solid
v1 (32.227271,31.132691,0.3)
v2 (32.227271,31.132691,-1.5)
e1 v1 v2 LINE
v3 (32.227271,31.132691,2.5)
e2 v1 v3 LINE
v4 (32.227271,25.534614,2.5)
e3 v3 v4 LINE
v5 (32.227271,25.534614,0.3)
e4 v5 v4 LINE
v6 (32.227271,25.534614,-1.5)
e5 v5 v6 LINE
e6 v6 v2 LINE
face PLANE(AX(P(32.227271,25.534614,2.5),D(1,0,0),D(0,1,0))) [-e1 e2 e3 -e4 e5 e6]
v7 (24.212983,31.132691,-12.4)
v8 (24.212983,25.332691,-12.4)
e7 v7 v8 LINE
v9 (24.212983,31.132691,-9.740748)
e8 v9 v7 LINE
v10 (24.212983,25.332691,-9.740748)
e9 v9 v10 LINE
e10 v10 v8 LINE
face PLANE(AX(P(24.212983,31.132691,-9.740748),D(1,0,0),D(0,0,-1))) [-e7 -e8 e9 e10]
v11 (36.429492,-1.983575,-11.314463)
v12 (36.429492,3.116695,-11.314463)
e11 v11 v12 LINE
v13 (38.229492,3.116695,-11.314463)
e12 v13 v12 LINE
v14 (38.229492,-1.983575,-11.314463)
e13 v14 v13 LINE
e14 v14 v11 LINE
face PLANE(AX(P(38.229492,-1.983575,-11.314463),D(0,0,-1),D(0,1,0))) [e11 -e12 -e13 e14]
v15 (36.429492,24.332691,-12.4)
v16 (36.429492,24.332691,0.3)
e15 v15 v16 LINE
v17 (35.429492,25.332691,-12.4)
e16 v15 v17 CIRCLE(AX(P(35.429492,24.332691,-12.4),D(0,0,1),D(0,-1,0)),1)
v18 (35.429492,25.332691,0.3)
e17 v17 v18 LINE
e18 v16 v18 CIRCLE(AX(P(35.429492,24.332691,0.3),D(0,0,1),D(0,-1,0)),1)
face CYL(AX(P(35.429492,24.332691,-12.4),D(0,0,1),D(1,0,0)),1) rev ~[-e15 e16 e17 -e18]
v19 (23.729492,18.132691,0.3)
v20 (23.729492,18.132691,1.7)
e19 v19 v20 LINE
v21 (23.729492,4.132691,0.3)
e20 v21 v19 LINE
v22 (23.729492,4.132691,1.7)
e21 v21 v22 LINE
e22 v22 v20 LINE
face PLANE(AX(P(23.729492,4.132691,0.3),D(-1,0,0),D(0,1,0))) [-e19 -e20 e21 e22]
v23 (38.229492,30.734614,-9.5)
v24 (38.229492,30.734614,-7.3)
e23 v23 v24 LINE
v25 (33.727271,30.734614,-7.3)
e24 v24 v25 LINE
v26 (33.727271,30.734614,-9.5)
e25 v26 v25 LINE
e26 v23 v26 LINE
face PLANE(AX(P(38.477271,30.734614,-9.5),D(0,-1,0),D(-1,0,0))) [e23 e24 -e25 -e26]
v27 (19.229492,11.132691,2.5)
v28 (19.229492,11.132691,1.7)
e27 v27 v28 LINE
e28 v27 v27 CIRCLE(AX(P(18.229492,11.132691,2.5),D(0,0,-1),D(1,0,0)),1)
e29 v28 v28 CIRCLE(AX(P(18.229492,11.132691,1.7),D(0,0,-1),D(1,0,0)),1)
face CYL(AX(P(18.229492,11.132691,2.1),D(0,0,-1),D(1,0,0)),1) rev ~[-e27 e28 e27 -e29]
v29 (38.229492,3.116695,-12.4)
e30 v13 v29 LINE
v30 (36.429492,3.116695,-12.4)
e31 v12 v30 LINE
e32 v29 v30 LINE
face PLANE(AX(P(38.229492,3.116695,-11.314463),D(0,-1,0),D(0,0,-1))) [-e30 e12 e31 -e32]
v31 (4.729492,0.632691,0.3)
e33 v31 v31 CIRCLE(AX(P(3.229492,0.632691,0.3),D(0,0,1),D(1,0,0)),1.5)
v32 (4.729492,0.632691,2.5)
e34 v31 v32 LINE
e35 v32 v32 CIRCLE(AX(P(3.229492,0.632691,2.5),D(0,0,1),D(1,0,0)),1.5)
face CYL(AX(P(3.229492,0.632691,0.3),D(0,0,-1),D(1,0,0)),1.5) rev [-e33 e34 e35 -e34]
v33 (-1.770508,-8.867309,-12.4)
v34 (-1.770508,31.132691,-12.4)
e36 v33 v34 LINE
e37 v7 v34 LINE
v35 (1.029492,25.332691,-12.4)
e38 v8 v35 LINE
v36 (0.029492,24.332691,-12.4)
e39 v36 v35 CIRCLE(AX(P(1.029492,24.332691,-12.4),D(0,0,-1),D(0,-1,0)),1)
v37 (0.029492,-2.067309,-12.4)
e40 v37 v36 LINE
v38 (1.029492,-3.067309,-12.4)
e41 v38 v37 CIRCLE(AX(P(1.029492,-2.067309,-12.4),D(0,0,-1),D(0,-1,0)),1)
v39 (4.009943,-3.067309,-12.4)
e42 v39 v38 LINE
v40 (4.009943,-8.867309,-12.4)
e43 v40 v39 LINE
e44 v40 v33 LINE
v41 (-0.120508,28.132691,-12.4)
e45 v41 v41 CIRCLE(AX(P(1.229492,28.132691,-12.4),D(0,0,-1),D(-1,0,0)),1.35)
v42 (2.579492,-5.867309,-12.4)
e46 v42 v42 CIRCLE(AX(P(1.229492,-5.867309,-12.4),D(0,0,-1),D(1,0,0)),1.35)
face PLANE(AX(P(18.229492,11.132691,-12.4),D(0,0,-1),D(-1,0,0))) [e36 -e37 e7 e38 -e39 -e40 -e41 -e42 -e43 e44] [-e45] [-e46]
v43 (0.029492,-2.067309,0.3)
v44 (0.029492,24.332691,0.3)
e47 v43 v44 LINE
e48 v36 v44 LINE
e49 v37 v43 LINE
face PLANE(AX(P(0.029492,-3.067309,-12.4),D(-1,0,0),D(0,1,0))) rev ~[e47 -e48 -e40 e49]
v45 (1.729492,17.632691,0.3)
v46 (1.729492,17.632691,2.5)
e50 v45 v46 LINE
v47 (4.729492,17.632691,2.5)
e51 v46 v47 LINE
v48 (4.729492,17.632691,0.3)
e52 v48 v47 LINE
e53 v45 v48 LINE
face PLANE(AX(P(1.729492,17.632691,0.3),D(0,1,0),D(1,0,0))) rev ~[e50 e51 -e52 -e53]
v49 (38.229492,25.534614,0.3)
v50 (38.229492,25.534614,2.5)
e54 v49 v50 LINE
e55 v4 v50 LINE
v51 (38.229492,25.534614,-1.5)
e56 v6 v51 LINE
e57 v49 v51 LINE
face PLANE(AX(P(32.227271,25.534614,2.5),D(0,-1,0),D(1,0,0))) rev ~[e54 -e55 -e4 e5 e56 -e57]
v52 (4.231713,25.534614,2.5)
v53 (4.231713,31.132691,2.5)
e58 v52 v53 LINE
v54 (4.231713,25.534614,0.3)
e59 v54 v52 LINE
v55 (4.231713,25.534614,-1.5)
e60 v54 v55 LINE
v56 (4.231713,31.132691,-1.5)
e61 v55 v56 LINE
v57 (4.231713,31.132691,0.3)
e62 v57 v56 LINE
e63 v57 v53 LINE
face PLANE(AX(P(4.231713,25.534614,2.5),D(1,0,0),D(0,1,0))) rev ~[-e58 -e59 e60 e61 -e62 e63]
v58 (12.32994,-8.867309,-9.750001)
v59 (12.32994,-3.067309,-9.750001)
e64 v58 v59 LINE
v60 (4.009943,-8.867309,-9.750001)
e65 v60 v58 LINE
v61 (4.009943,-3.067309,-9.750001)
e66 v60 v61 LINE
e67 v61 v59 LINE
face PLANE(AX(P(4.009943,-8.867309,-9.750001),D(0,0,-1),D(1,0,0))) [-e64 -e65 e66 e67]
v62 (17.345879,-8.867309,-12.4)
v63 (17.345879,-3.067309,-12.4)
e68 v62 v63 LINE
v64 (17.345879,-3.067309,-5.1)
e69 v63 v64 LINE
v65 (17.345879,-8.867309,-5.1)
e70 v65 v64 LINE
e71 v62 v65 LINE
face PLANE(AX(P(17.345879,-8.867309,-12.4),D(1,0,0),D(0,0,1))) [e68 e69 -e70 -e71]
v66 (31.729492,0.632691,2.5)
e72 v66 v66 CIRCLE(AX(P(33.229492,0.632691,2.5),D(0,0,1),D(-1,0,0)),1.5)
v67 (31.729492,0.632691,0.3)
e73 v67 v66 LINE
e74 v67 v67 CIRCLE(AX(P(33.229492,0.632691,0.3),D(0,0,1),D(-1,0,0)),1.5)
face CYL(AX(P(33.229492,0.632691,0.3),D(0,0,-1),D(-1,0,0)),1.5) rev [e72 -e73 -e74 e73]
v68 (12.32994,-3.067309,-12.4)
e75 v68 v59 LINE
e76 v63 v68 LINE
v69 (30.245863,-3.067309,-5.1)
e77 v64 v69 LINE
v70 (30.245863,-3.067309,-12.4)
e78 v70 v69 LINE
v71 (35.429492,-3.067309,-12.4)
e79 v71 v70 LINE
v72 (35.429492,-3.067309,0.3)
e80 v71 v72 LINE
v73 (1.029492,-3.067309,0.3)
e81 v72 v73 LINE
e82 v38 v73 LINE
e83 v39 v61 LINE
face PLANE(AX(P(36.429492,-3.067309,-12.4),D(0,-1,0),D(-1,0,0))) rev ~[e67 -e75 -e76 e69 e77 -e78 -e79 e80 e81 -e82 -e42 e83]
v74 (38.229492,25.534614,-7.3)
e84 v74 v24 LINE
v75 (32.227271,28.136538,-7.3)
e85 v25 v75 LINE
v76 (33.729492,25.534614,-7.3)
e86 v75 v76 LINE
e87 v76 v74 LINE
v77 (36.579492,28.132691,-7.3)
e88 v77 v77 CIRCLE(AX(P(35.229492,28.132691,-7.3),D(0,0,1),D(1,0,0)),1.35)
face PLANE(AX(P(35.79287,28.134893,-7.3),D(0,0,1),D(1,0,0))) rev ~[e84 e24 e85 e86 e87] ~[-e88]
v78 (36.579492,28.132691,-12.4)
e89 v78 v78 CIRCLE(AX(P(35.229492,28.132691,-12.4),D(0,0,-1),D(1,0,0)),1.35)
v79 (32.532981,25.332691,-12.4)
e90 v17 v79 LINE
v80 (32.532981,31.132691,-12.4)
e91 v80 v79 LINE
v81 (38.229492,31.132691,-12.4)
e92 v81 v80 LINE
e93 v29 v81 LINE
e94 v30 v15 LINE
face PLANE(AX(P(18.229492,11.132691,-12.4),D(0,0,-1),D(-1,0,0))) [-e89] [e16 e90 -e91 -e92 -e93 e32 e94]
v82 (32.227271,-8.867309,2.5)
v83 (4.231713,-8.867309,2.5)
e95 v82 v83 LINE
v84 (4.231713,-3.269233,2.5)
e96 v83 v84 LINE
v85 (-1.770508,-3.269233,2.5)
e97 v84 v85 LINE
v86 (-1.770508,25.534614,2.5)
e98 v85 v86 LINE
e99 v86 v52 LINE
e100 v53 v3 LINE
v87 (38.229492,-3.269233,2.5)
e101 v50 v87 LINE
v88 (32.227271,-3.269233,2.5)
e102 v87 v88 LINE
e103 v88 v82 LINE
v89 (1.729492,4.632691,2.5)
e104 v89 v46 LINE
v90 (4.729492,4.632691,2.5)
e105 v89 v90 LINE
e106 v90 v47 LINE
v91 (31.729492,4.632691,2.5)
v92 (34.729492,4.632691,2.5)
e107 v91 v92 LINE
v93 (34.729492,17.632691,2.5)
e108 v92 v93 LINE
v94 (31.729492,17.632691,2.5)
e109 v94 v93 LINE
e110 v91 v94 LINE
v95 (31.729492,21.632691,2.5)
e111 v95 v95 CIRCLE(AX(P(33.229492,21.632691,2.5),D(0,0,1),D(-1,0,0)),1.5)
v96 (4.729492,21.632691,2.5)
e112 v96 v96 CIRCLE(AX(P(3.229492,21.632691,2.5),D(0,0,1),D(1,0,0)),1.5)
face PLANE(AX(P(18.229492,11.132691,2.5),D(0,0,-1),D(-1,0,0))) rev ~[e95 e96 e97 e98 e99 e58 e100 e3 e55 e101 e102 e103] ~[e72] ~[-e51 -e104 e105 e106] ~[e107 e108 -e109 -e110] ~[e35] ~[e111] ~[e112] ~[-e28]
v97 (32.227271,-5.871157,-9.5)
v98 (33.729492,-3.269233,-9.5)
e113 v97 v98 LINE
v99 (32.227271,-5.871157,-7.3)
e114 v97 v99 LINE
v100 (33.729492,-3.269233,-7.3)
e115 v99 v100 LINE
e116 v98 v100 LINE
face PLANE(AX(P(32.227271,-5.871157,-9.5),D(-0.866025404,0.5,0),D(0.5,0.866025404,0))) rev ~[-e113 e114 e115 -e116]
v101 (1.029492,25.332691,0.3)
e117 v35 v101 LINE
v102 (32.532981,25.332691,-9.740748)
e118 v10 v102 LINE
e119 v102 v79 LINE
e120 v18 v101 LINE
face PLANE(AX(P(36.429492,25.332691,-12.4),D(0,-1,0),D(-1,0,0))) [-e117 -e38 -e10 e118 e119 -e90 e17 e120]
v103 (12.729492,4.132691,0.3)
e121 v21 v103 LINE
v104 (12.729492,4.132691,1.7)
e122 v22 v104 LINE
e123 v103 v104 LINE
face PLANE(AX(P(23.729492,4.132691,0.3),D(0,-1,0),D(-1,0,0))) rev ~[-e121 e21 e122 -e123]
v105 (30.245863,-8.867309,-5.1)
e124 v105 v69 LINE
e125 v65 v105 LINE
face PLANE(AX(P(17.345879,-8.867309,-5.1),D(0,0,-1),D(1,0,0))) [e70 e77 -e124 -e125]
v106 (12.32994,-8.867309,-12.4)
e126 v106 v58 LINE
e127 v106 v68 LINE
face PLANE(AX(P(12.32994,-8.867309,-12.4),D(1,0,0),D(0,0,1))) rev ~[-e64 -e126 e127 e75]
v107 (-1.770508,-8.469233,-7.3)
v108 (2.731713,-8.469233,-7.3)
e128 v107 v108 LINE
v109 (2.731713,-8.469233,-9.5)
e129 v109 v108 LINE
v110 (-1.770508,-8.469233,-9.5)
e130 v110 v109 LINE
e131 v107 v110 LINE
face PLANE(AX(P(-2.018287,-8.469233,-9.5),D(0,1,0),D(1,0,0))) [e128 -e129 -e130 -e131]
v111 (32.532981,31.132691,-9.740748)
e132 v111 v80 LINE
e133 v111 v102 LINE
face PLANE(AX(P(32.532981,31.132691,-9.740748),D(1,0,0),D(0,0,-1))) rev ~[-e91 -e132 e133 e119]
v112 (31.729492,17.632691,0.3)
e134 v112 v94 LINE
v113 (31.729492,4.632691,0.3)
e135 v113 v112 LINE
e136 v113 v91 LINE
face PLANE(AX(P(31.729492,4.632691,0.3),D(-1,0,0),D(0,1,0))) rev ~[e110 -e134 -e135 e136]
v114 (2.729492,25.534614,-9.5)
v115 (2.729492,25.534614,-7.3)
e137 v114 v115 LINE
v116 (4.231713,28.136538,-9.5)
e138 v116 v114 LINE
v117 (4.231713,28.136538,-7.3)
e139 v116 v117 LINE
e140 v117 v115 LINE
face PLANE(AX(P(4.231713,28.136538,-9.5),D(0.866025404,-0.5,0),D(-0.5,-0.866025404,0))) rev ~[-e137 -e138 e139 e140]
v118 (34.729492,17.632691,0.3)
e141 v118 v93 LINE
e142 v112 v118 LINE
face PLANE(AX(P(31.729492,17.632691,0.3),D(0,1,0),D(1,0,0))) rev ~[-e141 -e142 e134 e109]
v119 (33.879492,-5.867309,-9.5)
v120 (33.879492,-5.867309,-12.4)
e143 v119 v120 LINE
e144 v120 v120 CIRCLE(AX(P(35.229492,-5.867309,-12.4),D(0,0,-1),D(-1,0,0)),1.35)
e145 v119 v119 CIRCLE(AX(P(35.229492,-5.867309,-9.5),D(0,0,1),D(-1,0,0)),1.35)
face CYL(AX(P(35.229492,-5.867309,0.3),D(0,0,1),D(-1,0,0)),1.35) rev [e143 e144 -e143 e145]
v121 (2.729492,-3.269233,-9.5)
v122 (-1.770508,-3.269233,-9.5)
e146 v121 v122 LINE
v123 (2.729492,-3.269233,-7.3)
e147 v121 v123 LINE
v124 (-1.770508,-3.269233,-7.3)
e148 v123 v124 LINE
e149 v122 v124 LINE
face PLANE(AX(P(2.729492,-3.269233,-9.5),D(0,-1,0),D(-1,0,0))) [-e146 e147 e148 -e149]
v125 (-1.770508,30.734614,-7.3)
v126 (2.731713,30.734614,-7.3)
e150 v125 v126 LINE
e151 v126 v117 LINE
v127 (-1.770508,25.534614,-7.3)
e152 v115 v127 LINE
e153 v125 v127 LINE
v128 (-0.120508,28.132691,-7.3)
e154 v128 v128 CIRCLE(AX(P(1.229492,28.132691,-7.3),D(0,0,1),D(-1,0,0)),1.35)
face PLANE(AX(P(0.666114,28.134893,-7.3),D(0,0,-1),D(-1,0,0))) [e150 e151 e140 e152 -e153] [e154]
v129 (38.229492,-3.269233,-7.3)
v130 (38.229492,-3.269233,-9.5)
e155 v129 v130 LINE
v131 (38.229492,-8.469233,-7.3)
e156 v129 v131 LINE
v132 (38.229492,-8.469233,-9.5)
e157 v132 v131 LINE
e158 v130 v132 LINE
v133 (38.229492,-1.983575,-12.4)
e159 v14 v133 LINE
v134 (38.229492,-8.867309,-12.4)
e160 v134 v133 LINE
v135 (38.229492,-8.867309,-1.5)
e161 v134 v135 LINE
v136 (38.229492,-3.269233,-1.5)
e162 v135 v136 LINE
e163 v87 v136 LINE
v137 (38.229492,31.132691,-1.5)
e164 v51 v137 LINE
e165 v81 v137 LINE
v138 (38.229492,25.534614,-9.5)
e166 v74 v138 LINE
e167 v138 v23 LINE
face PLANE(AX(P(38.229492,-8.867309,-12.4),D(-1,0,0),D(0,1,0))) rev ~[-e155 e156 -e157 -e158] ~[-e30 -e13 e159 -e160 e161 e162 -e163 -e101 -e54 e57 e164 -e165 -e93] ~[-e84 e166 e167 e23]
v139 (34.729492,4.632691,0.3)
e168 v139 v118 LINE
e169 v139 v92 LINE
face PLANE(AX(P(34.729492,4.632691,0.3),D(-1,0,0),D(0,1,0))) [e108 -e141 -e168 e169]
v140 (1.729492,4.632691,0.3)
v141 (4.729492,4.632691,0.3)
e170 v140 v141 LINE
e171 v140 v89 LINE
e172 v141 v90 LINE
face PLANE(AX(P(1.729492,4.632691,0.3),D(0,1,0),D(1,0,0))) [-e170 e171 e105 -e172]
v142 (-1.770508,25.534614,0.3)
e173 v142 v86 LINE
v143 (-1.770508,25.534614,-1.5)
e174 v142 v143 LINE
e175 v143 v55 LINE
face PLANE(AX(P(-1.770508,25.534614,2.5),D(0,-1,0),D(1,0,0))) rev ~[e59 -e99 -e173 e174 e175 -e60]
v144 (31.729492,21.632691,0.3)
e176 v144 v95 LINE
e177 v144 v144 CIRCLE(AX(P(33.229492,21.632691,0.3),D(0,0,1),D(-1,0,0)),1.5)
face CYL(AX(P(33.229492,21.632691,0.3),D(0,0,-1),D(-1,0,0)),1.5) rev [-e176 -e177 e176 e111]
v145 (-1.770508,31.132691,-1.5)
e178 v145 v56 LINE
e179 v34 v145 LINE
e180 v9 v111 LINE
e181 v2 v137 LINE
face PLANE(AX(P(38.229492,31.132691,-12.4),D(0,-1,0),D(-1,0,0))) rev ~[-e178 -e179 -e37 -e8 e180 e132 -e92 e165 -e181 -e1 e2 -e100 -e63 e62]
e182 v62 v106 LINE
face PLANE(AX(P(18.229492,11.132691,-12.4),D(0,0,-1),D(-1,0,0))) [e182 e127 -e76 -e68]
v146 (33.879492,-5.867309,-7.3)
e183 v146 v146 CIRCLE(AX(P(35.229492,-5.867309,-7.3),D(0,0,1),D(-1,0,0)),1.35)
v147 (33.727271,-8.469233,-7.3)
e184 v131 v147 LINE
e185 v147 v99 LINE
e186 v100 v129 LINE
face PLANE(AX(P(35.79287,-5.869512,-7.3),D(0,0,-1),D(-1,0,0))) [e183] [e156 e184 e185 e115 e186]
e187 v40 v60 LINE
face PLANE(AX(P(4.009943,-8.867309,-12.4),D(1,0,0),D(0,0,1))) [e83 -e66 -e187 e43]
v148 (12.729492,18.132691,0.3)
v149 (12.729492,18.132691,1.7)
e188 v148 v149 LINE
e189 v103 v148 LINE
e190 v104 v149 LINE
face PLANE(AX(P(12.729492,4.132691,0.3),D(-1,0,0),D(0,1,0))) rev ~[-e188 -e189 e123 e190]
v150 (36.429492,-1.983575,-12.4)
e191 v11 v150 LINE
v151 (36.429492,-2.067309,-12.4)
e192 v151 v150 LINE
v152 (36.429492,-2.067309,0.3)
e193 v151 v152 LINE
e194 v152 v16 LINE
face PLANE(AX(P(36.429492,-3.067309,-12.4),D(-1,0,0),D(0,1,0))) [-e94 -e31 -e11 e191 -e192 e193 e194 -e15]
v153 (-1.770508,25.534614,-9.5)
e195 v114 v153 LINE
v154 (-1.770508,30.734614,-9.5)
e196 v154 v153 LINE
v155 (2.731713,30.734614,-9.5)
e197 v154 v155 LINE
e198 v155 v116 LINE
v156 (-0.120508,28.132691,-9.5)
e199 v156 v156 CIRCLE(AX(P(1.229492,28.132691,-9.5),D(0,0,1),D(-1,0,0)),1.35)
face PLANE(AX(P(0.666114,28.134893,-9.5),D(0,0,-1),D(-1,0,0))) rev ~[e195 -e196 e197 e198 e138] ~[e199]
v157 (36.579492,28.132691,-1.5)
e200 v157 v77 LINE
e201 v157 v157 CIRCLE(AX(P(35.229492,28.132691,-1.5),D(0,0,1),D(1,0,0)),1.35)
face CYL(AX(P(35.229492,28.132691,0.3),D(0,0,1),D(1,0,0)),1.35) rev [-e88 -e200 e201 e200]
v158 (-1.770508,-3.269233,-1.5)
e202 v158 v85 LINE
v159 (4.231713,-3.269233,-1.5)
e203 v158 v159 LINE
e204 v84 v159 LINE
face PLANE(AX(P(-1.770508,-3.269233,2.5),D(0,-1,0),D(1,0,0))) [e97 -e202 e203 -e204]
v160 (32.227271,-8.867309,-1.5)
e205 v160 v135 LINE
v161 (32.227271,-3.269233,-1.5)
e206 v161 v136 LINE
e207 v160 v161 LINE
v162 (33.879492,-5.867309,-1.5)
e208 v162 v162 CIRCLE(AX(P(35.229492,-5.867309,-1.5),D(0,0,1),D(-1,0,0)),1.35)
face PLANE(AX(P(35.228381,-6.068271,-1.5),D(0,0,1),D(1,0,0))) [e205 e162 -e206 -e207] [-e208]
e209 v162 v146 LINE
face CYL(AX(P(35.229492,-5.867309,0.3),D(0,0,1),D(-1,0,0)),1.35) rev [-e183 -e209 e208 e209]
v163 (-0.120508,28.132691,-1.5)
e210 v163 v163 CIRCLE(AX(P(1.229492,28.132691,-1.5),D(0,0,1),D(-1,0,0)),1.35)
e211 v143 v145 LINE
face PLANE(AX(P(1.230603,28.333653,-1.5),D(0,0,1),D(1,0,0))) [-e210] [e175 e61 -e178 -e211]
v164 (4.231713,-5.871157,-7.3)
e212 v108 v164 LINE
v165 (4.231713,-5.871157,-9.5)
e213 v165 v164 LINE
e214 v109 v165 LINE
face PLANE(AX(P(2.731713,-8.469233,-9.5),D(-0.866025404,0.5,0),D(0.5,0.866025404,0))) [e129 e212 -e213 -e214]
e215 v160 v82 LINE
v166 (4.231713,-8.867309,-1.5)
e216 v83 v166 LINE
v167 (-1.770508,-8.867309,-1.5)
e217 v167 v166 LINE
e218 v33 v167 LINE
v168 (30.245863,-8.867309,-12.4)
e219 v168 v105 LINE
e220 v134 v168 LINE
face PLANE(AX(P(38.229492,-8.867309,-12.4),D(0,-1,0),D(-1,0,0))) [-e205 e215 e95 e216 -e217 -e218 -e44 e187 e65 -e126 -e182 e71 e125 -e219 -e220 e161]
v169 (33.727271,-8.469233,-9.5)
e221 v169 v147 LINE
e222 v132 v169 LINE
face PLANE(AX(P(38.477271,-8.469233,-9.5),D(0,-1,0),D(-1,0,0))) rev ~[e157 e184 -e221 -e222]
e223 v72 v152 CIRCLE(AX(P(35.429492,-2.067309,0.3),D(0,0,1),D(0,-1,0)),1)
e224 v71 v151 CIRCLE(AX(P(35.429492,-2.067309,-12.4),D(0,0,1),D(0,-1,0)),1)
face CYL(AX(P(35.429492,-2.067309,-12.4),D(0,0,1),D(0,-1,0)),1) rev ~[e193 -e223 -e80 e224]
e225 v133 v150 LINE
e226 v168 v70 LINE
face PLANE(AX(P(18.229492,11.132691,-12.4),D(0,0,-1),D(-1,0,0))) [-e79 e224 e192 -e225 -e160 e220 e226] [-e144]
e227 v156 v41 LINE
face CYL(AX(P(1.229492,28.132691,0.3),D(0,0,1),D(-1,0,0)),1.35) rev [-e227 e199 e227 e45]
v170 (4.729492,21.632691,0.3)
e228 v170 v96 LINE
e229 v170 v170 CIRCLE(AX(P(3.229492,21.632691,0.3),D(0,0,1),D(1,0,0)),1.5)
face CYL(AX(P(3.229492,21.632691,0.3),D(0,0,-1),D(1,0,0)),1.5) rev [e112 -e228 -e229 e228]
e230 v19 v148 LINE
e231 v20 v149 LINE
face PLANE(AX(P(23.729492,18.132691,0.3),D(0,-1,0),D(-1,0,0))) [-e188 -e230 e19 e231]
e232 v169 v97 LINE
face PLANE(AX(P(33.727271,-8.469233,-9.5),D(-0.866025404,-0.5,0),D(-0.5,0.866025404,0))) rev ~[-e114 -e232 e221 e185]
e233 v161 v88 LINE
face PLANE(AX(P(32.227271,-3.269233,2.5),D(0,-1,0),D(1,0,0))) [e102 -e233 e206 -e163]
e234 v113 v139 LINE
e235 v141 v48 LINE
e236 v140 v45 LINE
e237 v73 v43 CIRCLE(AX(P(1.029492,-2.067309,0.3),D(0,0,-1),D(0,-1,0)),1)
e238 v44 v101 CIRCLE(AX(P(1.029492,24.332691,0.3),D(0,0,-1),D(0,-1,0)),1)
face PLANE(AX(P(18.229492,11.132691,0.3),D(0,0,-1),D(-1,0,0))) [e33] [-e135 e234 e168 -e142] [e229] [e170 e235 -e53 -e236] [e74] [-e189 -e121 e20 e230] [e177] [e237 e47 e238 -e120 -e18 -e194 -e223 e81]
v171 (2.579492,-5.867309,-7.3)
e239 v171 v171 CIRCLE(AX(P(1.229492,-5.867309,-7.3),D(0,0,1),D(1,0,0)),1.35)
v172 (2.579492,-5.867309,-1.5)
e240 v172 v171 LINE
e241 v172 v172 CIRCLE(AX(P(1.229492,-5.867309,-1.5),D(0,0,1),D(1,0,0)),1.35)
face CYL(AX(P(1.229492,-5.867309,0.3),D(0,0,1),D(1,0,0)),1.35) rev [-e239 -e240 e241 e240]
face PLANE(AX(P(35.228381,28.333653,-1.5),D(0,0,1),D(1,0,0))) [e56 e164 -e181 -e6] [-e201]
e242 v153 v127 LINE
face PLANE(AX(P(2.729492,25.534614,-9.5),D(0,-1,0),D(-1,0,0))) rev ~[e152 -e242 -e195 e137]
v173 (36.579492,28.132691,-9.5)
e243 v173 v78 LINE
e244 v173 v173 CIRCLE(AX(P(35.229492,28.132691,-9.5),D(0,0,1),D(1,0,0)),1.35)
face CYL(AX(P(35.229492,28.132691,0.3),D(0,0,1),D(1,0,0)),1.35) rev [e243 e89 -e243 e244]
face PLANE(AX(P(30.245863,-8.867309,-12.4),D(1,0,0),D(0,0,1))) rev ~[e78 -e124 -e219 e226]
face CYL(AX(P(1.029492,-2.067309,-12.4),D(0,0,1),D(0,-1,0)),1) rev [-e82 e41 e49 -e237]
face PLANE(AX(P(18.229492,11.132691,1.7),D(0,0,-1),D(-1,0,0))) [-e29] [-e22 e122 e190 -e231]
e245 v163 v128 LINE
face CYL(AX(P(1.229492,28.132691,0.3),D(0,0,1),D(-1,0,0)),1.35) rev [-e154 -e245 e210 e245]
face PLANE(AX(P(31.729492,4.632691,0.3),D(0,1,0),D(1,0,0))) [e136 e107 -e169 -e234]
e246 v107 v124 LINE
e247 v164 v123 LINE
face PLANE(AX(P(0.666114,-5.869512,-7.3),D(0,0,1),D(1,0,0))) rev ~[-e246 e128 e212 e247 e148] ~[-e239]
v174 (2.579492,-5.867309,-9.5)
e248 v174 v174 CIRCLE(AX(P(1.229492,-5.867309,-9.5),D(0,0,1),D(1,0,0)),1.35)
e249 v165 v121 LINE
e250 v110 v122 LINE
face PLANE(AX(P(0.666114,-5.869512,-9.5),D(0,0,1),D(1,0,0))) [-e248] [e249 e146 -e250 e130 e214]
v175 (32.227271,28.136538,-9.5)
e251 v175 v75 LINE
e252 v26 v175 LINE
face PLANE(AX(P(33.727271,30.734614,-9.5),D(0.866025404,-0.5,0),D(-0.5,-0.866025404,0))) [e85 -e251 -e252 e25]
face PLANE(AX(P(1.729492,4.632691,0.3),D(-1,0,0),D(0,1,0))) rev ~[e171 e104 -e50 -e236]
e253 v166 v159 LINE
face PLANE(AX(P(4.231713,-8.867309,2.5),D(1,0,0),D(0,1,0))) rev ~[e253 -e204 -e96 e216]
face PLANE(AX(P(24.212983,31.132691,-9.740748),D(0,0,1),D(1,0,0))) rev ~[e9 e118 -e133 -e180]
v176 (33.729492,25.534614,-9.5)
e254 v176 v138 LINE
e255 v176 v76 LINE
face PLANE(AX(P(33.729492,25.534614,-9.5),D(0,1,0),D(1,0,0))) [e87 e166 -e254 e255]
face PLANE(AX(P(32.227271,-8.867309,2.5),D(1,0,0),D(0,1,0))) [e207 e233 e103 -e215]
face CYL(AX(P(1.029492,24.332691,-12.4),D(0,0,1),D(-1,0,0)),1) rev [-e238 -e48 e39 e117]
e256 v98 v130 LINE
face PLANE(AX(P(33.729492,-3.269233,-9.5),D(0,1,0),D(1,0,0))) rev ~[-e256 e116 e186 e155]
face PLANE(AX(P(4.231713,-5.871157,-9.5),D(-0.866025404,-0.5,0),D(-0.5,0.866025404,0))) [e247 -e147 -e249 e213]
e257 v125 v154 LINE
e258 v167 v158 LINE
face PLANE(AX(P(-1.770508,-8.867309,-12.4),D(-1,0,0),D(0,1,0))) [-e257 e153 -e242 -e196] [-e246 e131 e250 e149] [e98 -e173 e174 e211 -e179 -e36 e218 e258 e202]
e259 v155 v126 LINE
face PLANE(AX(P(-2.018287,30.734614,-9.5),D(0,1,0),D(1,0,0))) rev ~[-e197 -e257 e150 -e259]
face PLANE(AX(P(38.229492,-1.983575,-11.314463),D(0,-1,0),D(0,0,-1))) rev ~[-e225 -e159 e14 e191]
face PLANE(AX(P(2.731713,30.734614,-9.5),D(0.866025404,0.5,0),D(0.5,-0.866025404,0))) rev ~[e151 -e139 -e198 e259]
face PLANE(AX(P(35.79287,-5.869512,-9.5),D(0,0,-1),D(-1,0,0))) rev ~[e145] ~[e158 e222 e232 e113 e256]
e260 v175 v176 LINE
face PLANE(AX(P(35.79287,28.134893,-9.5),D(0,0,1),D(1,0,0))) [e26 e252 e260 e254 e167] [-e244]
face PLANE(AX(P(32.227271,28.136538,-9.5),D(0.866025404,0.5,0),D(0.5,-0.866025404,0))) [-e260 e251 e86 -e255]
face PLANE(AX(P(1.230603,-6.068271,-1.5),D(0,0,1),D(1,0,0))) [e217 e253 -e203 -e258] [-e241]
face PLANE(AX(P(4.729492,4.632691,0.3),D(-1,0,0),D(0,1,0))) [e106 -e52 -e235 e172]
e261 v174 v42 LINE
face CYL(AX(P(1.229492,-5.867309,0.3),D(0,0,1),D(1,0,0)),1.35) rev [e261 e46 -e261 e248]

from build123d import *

# Parameters (mm, degrees)
SKETCH_1_W               = 40
SKETCH_1_H               = 40
EXTRUDE_1_DEPTH          = 12.7
CUT_EXTRUDE_2_DEPTH      = 0.7
CUT_EXTRUDE_2_DEPTH_BACK = 1.5
SKETCH_8_W               = 36.4
SKETCH_8_H               = 28.4
CUT_EXTRUDE_4_DEPTH      = 12.7
SKETCH_10_R              = 0.5
SKETCH_10_R_2            = 1.5
SKETCH_10_W              = 3
SKETCH_10_H              = 13
EXTRUDE_2_DEPTH          = 2.2
CUT_EXTRUDE_START        = -12.7
SKETCH_13_R              = 1.35
CUT_EXTRUDE_6_DEPTH      = 12.7
FILLET_1_R               = 1
SKETCH_14_W              = 8.31999735
SKETCH_14_H              = 2.64999918
CUT_EXTRUDE_8_DEPTH      = 5.8
SKETCH_15_W              = 12.8999835
SKETCH_15_H              = 7.3
CUT_EXTRUDE_9_DEPTH      = 5.8
SKETCH_16_W              = 1.085536683
SKETCH_16_H              = 5.100270408
CUT_EXTRUDE_10_DEPTH     = 1.8
SKETCH_17_W              = 8.31999735
SKETCH_17_H              = 2.65925193
CUT_EXTRUDE_11_DEPTH     = 5.8
SKETCH_23_W              = 6.0022214
SKETCH_23_H              = 5.598076211
SKETCH_23_H_2            = 5.598076212
CUT_EXTRUDE_12_DEPTH     = 4
SKETCH_24_W              = 11
SKETCH_24_H              = 14
CUT_EXTRUDE_14_DEPTH     = 1.4
SKETCH_22_W              = 1
SKETCH_22_H              = 0.8


with BuildPart() as part:
    # 草图1 → 凸台-拉伸1 (new body)
    with BuildSketch(Plane(origin=(0, 0, -12.4), x_dir=(-1, 0, 0), z_dir=(0, 0, -1))):
        with Locations((-18.22949197, 11.132690632)):
            Rectangle(SKETCH_1_W, SKETCH_1_H)
    extrude(amount=-EXTRUDE_1_DEPTH)

    # 草图2 → 切除-拉伸2 (cut, two sides: drawn at the far end of the back side and taken through both)
    with BuildSketch(Plane.XY.offset(-8).offset(-CUT_EXTRUDE_2_DEPTH_BACK)):
        Polygon((-2.01828663, -8.469233156), (2.73171337, -8.469233156), (4.23171337, -5.871156945), (2.72949197, -3.269233156), (-2.01828663, -3.269233156), align=None)
        Polygon((-2.01828663, 25.534614421), (-2.01828663, 30.734614421), (2.73171337, 30.734614421), (4.23171337, 28.13653821), (2.72949197, 25.534614421), align=None)
        Polygon((38.47727057, 30.734614421), (33.72727057, 30.734614421), (32.22727057, 28.13653821), (33.72949197, 25.534614421), (38.47727057, 25.534614421), align=None)
        Polygon((38.47727057, -3.269233156), (38.47727057, -8.469233156), (33.72727057, -8.469233156), (32.22727057, -5.871156945), (33.72949197, -3.269233156), align=None)
    extrude(amount=CUT_EXTRUDE_2_DEPTH + CUT_EXTRUDE_2_DEPTH_BACK, mode=Mode.SUBTRACT)

    # 草图8 → 切除-拉伸4 (cut)
    with BuildSketch(Plane(origin=(0, 0, -12.4), x_dir=(-1, 0, 0), z_dir=(0, 0, -1))):
        with Locations((-18.22949197, 11.132690632)):
            Rectangle(SKETCH_8_W, SKETCH_8_H)
    extrude(amount=-CUT_EXTRUDE_4_DEPTH, mode=Mode.SUBTRACT)

    # 草图13 → 切除-拉伸6 (cut)
    with BuildSketch(Plane(origin=(0, 0, -12.4), x_dir=(-1, 0, 0), z_dir=(0, 0, -1)).offset(CUT_EXTRUDE_START)):
        with Locations((-35.22949197, -5.867309368)):
            Circle(SKETCH_13_R)
        with Locations(Location((-1.22949197, -5.867309368, 0), (0, 0, 180))):
            Circle(SKETCH_13_R)
        with Locations((-1.22949197, 28.132690632)):
            Circle(SKETCH_13_R)
        with Locations(Location((-35.22949197, 28.132690632, 0), (0, 0, 180))):
            Circle(SKETCH_13_R)
    extrude(amount=CUT_EXTRUDE_6_DEPTH, mode=Mode.SUBTRACT)

    # 圆角1
    fillet_1_edges = [part.edges().sort_by_distance(p)[0] for p in [
        (0.02949197, 25.332690632, -6.05),
        (0.02949197, -3.067309368, -6.05),
        (36.42949197, -3.067309368, -6.05),
        (36.42949197, 25.332690632, -6.05),
    ]]
    fillet(fillet_1_edges, radius=FILLET_1_R)

    # 草图14 → 切除-拉伸8 (cut)
    with BuildSketch(Plane.XZ.offset(8.867309368)):
        with Locations((8.169941285, -11.07500041)):
            Rectangle(SKETCH_14_W, SKETCH_14_H)
    extrude(amount=-CUT_EXTRUDE_8_DEPTH, mode=Mode.SUBTRACT)

    # 草图15 → 切除-拉伸9 (cut)
    with BuildSketch(Plane.XZ.offset(8.867309368)):
        with Locations((23.79587104, -8.75)):
            Rectangle(SKETCH_15_W, SKETCH_15_H)
    extrude(amount=-CUT_EXTRUDE_9_DEPTH, mode=Mode.SUBTRACT)

    # 草图16 → 切除-拉伸10 (cut)
    with BuildSketch(Plane(origin=(38.22949197, 0, 0), x_dir=(0, 0, -1), z_dir=(1, 0, 0))):
        with Locations((11.857231659, 0.566559812)):
            Rectangle(SKETCH_16_W, SKETCH_16_H)
    extrude(amount=-CUT_EXTRUDE_10_DEPTH, mode=Mode.SUBTRACT)

    # 草图17 → 切除-拉伸11 (cut)
    with BuildSketch(Plane(origin=(0, 31.132690632, 0), x_dir=(1, 0, 0), z_dir=(0, 1, 0))):
        with Locations((28.372981895, 11.070374035)):
            Rectangle(SKETCH_17_W, SKETCH_17_H)
    extrude(amount=-CUT_EXTRUDE_11_DEPTH, mode=Mode.SUBTRACT)

    # 草图23 → 切除-拉伸12 (cut)
    with BuildSketch(Plane.XY.offset(2.5)):
        with Locations((35.22838127, 28.333652527)):
            Rectangle(SKETCH_23_W, SKETCH_23_H)
        with Locations((35.22838127, -6.068271262)):
            Rectangle(SKETCH_23_W, SKETCH_23_H_2)
        with Locations((1.23060267, -6.068271262)):
            Rectangle(SKETCH_23_W, SKETCH_23_H_2)
        with Locations((1.23060267, 28.333652527)):
            Rectangle(SKETCH_23_W, SKETCH_23_H)
    extrude(amount=-CUT_EXTRUDE_12_DEPTH, mode=Mode.SUBTRACT)


with BuildPart() as body_2:
    # 草图10 → 凸台-拉伸2 (new body)
    with BuildSketch(Plane.XY.offset(0.3)):
        Polygon((-1.77050803, 25.534614421), (4.23171337, 25.534614421), (4.23171337, 31.132690632), (32.22727057, 31.132690632), (32.22727057, 25.534614421), (38.22949197, 25.534614421), (38.22949197, -3.269233156), (32.22727057, -3.269233156), (32.22727057, -8.867309368), (4.23171337, -8.867309368), (4.23171337, -3.269233156), (-1.77050803, -3.269233156), align=None)
        with Locations((18.22949197, 11.132690632)):
            Circle(SKETCH_10_R, mode=Mode.SUBTRACT)
        with Locations((3.22949197, 0.632690632)):
            Circle(SKETCH_10_R_2, mode=Mode.SUBTRACT)
        with Locations((3.22949197, 21.632690632)):
            Circle(SKETCH_10_R_2, mode=Mode.SUBTRACT)
        with Locations(Location((33.22949197, 21.632690632, 0), (0, 0, 180))):
            Circle(SKETCH_10_R_2, mode=Mode.SUBTRACT)
        with Locations(Location((33.22949197, 0.632690632, 0), (0, 0, 180))):
            Circle(SKETCH_10_R_2, mode=Mode.SUBTRACT)
        with Locations((3.22949197, 11.132690632)):
            Rectangle(SKETCH_10_W, SKETCH_10_H, mode=Mode.SUBTRACT)
        with Locations((33.22949197, 11.132690632)):
            Rectangle(SKETCH_10_W, SKETCH_10_H, mode=Mode.SUBTRACT)
    extrude(amount=EXTRUDE_2_DEPTH)

    # 草图24 → 切除-拉伸14 (cut)
    with BuildSketch(Plane(origin=(0, 0, 0.3), x_dir=(-1, 0, 0), z_dir=(0, 0, -1))):
        with Locations((-18.22949197, 11.132690632)):
            Rectangle(SKETCH_24_W, SKETCH_24_H)
    extrude(amount=-CUT_EXTRUDE_14_DEPTH, mode=Mode.SUBTRACT)

    # 草图22 → 切除-旋转3 (revolve, cut)
    with BuildSketch(Plane(origin=(0, 11.132690632, 0), x_dir=(-1, 0, 0), z_dir=(0, -1, 0))):
        with Locations((-18.72949197, -2.1)):
            Rectangle(SKETCH_22_W, SKETCH_22_H)
    revolve(axis=Axis((18.22949197, 11.132690632, 5.06186702), (0, 0, -1)), mode=Mode.SUBTRACT)

    # Combine 1: union part
    add(part.part)


solid = body_2.part
